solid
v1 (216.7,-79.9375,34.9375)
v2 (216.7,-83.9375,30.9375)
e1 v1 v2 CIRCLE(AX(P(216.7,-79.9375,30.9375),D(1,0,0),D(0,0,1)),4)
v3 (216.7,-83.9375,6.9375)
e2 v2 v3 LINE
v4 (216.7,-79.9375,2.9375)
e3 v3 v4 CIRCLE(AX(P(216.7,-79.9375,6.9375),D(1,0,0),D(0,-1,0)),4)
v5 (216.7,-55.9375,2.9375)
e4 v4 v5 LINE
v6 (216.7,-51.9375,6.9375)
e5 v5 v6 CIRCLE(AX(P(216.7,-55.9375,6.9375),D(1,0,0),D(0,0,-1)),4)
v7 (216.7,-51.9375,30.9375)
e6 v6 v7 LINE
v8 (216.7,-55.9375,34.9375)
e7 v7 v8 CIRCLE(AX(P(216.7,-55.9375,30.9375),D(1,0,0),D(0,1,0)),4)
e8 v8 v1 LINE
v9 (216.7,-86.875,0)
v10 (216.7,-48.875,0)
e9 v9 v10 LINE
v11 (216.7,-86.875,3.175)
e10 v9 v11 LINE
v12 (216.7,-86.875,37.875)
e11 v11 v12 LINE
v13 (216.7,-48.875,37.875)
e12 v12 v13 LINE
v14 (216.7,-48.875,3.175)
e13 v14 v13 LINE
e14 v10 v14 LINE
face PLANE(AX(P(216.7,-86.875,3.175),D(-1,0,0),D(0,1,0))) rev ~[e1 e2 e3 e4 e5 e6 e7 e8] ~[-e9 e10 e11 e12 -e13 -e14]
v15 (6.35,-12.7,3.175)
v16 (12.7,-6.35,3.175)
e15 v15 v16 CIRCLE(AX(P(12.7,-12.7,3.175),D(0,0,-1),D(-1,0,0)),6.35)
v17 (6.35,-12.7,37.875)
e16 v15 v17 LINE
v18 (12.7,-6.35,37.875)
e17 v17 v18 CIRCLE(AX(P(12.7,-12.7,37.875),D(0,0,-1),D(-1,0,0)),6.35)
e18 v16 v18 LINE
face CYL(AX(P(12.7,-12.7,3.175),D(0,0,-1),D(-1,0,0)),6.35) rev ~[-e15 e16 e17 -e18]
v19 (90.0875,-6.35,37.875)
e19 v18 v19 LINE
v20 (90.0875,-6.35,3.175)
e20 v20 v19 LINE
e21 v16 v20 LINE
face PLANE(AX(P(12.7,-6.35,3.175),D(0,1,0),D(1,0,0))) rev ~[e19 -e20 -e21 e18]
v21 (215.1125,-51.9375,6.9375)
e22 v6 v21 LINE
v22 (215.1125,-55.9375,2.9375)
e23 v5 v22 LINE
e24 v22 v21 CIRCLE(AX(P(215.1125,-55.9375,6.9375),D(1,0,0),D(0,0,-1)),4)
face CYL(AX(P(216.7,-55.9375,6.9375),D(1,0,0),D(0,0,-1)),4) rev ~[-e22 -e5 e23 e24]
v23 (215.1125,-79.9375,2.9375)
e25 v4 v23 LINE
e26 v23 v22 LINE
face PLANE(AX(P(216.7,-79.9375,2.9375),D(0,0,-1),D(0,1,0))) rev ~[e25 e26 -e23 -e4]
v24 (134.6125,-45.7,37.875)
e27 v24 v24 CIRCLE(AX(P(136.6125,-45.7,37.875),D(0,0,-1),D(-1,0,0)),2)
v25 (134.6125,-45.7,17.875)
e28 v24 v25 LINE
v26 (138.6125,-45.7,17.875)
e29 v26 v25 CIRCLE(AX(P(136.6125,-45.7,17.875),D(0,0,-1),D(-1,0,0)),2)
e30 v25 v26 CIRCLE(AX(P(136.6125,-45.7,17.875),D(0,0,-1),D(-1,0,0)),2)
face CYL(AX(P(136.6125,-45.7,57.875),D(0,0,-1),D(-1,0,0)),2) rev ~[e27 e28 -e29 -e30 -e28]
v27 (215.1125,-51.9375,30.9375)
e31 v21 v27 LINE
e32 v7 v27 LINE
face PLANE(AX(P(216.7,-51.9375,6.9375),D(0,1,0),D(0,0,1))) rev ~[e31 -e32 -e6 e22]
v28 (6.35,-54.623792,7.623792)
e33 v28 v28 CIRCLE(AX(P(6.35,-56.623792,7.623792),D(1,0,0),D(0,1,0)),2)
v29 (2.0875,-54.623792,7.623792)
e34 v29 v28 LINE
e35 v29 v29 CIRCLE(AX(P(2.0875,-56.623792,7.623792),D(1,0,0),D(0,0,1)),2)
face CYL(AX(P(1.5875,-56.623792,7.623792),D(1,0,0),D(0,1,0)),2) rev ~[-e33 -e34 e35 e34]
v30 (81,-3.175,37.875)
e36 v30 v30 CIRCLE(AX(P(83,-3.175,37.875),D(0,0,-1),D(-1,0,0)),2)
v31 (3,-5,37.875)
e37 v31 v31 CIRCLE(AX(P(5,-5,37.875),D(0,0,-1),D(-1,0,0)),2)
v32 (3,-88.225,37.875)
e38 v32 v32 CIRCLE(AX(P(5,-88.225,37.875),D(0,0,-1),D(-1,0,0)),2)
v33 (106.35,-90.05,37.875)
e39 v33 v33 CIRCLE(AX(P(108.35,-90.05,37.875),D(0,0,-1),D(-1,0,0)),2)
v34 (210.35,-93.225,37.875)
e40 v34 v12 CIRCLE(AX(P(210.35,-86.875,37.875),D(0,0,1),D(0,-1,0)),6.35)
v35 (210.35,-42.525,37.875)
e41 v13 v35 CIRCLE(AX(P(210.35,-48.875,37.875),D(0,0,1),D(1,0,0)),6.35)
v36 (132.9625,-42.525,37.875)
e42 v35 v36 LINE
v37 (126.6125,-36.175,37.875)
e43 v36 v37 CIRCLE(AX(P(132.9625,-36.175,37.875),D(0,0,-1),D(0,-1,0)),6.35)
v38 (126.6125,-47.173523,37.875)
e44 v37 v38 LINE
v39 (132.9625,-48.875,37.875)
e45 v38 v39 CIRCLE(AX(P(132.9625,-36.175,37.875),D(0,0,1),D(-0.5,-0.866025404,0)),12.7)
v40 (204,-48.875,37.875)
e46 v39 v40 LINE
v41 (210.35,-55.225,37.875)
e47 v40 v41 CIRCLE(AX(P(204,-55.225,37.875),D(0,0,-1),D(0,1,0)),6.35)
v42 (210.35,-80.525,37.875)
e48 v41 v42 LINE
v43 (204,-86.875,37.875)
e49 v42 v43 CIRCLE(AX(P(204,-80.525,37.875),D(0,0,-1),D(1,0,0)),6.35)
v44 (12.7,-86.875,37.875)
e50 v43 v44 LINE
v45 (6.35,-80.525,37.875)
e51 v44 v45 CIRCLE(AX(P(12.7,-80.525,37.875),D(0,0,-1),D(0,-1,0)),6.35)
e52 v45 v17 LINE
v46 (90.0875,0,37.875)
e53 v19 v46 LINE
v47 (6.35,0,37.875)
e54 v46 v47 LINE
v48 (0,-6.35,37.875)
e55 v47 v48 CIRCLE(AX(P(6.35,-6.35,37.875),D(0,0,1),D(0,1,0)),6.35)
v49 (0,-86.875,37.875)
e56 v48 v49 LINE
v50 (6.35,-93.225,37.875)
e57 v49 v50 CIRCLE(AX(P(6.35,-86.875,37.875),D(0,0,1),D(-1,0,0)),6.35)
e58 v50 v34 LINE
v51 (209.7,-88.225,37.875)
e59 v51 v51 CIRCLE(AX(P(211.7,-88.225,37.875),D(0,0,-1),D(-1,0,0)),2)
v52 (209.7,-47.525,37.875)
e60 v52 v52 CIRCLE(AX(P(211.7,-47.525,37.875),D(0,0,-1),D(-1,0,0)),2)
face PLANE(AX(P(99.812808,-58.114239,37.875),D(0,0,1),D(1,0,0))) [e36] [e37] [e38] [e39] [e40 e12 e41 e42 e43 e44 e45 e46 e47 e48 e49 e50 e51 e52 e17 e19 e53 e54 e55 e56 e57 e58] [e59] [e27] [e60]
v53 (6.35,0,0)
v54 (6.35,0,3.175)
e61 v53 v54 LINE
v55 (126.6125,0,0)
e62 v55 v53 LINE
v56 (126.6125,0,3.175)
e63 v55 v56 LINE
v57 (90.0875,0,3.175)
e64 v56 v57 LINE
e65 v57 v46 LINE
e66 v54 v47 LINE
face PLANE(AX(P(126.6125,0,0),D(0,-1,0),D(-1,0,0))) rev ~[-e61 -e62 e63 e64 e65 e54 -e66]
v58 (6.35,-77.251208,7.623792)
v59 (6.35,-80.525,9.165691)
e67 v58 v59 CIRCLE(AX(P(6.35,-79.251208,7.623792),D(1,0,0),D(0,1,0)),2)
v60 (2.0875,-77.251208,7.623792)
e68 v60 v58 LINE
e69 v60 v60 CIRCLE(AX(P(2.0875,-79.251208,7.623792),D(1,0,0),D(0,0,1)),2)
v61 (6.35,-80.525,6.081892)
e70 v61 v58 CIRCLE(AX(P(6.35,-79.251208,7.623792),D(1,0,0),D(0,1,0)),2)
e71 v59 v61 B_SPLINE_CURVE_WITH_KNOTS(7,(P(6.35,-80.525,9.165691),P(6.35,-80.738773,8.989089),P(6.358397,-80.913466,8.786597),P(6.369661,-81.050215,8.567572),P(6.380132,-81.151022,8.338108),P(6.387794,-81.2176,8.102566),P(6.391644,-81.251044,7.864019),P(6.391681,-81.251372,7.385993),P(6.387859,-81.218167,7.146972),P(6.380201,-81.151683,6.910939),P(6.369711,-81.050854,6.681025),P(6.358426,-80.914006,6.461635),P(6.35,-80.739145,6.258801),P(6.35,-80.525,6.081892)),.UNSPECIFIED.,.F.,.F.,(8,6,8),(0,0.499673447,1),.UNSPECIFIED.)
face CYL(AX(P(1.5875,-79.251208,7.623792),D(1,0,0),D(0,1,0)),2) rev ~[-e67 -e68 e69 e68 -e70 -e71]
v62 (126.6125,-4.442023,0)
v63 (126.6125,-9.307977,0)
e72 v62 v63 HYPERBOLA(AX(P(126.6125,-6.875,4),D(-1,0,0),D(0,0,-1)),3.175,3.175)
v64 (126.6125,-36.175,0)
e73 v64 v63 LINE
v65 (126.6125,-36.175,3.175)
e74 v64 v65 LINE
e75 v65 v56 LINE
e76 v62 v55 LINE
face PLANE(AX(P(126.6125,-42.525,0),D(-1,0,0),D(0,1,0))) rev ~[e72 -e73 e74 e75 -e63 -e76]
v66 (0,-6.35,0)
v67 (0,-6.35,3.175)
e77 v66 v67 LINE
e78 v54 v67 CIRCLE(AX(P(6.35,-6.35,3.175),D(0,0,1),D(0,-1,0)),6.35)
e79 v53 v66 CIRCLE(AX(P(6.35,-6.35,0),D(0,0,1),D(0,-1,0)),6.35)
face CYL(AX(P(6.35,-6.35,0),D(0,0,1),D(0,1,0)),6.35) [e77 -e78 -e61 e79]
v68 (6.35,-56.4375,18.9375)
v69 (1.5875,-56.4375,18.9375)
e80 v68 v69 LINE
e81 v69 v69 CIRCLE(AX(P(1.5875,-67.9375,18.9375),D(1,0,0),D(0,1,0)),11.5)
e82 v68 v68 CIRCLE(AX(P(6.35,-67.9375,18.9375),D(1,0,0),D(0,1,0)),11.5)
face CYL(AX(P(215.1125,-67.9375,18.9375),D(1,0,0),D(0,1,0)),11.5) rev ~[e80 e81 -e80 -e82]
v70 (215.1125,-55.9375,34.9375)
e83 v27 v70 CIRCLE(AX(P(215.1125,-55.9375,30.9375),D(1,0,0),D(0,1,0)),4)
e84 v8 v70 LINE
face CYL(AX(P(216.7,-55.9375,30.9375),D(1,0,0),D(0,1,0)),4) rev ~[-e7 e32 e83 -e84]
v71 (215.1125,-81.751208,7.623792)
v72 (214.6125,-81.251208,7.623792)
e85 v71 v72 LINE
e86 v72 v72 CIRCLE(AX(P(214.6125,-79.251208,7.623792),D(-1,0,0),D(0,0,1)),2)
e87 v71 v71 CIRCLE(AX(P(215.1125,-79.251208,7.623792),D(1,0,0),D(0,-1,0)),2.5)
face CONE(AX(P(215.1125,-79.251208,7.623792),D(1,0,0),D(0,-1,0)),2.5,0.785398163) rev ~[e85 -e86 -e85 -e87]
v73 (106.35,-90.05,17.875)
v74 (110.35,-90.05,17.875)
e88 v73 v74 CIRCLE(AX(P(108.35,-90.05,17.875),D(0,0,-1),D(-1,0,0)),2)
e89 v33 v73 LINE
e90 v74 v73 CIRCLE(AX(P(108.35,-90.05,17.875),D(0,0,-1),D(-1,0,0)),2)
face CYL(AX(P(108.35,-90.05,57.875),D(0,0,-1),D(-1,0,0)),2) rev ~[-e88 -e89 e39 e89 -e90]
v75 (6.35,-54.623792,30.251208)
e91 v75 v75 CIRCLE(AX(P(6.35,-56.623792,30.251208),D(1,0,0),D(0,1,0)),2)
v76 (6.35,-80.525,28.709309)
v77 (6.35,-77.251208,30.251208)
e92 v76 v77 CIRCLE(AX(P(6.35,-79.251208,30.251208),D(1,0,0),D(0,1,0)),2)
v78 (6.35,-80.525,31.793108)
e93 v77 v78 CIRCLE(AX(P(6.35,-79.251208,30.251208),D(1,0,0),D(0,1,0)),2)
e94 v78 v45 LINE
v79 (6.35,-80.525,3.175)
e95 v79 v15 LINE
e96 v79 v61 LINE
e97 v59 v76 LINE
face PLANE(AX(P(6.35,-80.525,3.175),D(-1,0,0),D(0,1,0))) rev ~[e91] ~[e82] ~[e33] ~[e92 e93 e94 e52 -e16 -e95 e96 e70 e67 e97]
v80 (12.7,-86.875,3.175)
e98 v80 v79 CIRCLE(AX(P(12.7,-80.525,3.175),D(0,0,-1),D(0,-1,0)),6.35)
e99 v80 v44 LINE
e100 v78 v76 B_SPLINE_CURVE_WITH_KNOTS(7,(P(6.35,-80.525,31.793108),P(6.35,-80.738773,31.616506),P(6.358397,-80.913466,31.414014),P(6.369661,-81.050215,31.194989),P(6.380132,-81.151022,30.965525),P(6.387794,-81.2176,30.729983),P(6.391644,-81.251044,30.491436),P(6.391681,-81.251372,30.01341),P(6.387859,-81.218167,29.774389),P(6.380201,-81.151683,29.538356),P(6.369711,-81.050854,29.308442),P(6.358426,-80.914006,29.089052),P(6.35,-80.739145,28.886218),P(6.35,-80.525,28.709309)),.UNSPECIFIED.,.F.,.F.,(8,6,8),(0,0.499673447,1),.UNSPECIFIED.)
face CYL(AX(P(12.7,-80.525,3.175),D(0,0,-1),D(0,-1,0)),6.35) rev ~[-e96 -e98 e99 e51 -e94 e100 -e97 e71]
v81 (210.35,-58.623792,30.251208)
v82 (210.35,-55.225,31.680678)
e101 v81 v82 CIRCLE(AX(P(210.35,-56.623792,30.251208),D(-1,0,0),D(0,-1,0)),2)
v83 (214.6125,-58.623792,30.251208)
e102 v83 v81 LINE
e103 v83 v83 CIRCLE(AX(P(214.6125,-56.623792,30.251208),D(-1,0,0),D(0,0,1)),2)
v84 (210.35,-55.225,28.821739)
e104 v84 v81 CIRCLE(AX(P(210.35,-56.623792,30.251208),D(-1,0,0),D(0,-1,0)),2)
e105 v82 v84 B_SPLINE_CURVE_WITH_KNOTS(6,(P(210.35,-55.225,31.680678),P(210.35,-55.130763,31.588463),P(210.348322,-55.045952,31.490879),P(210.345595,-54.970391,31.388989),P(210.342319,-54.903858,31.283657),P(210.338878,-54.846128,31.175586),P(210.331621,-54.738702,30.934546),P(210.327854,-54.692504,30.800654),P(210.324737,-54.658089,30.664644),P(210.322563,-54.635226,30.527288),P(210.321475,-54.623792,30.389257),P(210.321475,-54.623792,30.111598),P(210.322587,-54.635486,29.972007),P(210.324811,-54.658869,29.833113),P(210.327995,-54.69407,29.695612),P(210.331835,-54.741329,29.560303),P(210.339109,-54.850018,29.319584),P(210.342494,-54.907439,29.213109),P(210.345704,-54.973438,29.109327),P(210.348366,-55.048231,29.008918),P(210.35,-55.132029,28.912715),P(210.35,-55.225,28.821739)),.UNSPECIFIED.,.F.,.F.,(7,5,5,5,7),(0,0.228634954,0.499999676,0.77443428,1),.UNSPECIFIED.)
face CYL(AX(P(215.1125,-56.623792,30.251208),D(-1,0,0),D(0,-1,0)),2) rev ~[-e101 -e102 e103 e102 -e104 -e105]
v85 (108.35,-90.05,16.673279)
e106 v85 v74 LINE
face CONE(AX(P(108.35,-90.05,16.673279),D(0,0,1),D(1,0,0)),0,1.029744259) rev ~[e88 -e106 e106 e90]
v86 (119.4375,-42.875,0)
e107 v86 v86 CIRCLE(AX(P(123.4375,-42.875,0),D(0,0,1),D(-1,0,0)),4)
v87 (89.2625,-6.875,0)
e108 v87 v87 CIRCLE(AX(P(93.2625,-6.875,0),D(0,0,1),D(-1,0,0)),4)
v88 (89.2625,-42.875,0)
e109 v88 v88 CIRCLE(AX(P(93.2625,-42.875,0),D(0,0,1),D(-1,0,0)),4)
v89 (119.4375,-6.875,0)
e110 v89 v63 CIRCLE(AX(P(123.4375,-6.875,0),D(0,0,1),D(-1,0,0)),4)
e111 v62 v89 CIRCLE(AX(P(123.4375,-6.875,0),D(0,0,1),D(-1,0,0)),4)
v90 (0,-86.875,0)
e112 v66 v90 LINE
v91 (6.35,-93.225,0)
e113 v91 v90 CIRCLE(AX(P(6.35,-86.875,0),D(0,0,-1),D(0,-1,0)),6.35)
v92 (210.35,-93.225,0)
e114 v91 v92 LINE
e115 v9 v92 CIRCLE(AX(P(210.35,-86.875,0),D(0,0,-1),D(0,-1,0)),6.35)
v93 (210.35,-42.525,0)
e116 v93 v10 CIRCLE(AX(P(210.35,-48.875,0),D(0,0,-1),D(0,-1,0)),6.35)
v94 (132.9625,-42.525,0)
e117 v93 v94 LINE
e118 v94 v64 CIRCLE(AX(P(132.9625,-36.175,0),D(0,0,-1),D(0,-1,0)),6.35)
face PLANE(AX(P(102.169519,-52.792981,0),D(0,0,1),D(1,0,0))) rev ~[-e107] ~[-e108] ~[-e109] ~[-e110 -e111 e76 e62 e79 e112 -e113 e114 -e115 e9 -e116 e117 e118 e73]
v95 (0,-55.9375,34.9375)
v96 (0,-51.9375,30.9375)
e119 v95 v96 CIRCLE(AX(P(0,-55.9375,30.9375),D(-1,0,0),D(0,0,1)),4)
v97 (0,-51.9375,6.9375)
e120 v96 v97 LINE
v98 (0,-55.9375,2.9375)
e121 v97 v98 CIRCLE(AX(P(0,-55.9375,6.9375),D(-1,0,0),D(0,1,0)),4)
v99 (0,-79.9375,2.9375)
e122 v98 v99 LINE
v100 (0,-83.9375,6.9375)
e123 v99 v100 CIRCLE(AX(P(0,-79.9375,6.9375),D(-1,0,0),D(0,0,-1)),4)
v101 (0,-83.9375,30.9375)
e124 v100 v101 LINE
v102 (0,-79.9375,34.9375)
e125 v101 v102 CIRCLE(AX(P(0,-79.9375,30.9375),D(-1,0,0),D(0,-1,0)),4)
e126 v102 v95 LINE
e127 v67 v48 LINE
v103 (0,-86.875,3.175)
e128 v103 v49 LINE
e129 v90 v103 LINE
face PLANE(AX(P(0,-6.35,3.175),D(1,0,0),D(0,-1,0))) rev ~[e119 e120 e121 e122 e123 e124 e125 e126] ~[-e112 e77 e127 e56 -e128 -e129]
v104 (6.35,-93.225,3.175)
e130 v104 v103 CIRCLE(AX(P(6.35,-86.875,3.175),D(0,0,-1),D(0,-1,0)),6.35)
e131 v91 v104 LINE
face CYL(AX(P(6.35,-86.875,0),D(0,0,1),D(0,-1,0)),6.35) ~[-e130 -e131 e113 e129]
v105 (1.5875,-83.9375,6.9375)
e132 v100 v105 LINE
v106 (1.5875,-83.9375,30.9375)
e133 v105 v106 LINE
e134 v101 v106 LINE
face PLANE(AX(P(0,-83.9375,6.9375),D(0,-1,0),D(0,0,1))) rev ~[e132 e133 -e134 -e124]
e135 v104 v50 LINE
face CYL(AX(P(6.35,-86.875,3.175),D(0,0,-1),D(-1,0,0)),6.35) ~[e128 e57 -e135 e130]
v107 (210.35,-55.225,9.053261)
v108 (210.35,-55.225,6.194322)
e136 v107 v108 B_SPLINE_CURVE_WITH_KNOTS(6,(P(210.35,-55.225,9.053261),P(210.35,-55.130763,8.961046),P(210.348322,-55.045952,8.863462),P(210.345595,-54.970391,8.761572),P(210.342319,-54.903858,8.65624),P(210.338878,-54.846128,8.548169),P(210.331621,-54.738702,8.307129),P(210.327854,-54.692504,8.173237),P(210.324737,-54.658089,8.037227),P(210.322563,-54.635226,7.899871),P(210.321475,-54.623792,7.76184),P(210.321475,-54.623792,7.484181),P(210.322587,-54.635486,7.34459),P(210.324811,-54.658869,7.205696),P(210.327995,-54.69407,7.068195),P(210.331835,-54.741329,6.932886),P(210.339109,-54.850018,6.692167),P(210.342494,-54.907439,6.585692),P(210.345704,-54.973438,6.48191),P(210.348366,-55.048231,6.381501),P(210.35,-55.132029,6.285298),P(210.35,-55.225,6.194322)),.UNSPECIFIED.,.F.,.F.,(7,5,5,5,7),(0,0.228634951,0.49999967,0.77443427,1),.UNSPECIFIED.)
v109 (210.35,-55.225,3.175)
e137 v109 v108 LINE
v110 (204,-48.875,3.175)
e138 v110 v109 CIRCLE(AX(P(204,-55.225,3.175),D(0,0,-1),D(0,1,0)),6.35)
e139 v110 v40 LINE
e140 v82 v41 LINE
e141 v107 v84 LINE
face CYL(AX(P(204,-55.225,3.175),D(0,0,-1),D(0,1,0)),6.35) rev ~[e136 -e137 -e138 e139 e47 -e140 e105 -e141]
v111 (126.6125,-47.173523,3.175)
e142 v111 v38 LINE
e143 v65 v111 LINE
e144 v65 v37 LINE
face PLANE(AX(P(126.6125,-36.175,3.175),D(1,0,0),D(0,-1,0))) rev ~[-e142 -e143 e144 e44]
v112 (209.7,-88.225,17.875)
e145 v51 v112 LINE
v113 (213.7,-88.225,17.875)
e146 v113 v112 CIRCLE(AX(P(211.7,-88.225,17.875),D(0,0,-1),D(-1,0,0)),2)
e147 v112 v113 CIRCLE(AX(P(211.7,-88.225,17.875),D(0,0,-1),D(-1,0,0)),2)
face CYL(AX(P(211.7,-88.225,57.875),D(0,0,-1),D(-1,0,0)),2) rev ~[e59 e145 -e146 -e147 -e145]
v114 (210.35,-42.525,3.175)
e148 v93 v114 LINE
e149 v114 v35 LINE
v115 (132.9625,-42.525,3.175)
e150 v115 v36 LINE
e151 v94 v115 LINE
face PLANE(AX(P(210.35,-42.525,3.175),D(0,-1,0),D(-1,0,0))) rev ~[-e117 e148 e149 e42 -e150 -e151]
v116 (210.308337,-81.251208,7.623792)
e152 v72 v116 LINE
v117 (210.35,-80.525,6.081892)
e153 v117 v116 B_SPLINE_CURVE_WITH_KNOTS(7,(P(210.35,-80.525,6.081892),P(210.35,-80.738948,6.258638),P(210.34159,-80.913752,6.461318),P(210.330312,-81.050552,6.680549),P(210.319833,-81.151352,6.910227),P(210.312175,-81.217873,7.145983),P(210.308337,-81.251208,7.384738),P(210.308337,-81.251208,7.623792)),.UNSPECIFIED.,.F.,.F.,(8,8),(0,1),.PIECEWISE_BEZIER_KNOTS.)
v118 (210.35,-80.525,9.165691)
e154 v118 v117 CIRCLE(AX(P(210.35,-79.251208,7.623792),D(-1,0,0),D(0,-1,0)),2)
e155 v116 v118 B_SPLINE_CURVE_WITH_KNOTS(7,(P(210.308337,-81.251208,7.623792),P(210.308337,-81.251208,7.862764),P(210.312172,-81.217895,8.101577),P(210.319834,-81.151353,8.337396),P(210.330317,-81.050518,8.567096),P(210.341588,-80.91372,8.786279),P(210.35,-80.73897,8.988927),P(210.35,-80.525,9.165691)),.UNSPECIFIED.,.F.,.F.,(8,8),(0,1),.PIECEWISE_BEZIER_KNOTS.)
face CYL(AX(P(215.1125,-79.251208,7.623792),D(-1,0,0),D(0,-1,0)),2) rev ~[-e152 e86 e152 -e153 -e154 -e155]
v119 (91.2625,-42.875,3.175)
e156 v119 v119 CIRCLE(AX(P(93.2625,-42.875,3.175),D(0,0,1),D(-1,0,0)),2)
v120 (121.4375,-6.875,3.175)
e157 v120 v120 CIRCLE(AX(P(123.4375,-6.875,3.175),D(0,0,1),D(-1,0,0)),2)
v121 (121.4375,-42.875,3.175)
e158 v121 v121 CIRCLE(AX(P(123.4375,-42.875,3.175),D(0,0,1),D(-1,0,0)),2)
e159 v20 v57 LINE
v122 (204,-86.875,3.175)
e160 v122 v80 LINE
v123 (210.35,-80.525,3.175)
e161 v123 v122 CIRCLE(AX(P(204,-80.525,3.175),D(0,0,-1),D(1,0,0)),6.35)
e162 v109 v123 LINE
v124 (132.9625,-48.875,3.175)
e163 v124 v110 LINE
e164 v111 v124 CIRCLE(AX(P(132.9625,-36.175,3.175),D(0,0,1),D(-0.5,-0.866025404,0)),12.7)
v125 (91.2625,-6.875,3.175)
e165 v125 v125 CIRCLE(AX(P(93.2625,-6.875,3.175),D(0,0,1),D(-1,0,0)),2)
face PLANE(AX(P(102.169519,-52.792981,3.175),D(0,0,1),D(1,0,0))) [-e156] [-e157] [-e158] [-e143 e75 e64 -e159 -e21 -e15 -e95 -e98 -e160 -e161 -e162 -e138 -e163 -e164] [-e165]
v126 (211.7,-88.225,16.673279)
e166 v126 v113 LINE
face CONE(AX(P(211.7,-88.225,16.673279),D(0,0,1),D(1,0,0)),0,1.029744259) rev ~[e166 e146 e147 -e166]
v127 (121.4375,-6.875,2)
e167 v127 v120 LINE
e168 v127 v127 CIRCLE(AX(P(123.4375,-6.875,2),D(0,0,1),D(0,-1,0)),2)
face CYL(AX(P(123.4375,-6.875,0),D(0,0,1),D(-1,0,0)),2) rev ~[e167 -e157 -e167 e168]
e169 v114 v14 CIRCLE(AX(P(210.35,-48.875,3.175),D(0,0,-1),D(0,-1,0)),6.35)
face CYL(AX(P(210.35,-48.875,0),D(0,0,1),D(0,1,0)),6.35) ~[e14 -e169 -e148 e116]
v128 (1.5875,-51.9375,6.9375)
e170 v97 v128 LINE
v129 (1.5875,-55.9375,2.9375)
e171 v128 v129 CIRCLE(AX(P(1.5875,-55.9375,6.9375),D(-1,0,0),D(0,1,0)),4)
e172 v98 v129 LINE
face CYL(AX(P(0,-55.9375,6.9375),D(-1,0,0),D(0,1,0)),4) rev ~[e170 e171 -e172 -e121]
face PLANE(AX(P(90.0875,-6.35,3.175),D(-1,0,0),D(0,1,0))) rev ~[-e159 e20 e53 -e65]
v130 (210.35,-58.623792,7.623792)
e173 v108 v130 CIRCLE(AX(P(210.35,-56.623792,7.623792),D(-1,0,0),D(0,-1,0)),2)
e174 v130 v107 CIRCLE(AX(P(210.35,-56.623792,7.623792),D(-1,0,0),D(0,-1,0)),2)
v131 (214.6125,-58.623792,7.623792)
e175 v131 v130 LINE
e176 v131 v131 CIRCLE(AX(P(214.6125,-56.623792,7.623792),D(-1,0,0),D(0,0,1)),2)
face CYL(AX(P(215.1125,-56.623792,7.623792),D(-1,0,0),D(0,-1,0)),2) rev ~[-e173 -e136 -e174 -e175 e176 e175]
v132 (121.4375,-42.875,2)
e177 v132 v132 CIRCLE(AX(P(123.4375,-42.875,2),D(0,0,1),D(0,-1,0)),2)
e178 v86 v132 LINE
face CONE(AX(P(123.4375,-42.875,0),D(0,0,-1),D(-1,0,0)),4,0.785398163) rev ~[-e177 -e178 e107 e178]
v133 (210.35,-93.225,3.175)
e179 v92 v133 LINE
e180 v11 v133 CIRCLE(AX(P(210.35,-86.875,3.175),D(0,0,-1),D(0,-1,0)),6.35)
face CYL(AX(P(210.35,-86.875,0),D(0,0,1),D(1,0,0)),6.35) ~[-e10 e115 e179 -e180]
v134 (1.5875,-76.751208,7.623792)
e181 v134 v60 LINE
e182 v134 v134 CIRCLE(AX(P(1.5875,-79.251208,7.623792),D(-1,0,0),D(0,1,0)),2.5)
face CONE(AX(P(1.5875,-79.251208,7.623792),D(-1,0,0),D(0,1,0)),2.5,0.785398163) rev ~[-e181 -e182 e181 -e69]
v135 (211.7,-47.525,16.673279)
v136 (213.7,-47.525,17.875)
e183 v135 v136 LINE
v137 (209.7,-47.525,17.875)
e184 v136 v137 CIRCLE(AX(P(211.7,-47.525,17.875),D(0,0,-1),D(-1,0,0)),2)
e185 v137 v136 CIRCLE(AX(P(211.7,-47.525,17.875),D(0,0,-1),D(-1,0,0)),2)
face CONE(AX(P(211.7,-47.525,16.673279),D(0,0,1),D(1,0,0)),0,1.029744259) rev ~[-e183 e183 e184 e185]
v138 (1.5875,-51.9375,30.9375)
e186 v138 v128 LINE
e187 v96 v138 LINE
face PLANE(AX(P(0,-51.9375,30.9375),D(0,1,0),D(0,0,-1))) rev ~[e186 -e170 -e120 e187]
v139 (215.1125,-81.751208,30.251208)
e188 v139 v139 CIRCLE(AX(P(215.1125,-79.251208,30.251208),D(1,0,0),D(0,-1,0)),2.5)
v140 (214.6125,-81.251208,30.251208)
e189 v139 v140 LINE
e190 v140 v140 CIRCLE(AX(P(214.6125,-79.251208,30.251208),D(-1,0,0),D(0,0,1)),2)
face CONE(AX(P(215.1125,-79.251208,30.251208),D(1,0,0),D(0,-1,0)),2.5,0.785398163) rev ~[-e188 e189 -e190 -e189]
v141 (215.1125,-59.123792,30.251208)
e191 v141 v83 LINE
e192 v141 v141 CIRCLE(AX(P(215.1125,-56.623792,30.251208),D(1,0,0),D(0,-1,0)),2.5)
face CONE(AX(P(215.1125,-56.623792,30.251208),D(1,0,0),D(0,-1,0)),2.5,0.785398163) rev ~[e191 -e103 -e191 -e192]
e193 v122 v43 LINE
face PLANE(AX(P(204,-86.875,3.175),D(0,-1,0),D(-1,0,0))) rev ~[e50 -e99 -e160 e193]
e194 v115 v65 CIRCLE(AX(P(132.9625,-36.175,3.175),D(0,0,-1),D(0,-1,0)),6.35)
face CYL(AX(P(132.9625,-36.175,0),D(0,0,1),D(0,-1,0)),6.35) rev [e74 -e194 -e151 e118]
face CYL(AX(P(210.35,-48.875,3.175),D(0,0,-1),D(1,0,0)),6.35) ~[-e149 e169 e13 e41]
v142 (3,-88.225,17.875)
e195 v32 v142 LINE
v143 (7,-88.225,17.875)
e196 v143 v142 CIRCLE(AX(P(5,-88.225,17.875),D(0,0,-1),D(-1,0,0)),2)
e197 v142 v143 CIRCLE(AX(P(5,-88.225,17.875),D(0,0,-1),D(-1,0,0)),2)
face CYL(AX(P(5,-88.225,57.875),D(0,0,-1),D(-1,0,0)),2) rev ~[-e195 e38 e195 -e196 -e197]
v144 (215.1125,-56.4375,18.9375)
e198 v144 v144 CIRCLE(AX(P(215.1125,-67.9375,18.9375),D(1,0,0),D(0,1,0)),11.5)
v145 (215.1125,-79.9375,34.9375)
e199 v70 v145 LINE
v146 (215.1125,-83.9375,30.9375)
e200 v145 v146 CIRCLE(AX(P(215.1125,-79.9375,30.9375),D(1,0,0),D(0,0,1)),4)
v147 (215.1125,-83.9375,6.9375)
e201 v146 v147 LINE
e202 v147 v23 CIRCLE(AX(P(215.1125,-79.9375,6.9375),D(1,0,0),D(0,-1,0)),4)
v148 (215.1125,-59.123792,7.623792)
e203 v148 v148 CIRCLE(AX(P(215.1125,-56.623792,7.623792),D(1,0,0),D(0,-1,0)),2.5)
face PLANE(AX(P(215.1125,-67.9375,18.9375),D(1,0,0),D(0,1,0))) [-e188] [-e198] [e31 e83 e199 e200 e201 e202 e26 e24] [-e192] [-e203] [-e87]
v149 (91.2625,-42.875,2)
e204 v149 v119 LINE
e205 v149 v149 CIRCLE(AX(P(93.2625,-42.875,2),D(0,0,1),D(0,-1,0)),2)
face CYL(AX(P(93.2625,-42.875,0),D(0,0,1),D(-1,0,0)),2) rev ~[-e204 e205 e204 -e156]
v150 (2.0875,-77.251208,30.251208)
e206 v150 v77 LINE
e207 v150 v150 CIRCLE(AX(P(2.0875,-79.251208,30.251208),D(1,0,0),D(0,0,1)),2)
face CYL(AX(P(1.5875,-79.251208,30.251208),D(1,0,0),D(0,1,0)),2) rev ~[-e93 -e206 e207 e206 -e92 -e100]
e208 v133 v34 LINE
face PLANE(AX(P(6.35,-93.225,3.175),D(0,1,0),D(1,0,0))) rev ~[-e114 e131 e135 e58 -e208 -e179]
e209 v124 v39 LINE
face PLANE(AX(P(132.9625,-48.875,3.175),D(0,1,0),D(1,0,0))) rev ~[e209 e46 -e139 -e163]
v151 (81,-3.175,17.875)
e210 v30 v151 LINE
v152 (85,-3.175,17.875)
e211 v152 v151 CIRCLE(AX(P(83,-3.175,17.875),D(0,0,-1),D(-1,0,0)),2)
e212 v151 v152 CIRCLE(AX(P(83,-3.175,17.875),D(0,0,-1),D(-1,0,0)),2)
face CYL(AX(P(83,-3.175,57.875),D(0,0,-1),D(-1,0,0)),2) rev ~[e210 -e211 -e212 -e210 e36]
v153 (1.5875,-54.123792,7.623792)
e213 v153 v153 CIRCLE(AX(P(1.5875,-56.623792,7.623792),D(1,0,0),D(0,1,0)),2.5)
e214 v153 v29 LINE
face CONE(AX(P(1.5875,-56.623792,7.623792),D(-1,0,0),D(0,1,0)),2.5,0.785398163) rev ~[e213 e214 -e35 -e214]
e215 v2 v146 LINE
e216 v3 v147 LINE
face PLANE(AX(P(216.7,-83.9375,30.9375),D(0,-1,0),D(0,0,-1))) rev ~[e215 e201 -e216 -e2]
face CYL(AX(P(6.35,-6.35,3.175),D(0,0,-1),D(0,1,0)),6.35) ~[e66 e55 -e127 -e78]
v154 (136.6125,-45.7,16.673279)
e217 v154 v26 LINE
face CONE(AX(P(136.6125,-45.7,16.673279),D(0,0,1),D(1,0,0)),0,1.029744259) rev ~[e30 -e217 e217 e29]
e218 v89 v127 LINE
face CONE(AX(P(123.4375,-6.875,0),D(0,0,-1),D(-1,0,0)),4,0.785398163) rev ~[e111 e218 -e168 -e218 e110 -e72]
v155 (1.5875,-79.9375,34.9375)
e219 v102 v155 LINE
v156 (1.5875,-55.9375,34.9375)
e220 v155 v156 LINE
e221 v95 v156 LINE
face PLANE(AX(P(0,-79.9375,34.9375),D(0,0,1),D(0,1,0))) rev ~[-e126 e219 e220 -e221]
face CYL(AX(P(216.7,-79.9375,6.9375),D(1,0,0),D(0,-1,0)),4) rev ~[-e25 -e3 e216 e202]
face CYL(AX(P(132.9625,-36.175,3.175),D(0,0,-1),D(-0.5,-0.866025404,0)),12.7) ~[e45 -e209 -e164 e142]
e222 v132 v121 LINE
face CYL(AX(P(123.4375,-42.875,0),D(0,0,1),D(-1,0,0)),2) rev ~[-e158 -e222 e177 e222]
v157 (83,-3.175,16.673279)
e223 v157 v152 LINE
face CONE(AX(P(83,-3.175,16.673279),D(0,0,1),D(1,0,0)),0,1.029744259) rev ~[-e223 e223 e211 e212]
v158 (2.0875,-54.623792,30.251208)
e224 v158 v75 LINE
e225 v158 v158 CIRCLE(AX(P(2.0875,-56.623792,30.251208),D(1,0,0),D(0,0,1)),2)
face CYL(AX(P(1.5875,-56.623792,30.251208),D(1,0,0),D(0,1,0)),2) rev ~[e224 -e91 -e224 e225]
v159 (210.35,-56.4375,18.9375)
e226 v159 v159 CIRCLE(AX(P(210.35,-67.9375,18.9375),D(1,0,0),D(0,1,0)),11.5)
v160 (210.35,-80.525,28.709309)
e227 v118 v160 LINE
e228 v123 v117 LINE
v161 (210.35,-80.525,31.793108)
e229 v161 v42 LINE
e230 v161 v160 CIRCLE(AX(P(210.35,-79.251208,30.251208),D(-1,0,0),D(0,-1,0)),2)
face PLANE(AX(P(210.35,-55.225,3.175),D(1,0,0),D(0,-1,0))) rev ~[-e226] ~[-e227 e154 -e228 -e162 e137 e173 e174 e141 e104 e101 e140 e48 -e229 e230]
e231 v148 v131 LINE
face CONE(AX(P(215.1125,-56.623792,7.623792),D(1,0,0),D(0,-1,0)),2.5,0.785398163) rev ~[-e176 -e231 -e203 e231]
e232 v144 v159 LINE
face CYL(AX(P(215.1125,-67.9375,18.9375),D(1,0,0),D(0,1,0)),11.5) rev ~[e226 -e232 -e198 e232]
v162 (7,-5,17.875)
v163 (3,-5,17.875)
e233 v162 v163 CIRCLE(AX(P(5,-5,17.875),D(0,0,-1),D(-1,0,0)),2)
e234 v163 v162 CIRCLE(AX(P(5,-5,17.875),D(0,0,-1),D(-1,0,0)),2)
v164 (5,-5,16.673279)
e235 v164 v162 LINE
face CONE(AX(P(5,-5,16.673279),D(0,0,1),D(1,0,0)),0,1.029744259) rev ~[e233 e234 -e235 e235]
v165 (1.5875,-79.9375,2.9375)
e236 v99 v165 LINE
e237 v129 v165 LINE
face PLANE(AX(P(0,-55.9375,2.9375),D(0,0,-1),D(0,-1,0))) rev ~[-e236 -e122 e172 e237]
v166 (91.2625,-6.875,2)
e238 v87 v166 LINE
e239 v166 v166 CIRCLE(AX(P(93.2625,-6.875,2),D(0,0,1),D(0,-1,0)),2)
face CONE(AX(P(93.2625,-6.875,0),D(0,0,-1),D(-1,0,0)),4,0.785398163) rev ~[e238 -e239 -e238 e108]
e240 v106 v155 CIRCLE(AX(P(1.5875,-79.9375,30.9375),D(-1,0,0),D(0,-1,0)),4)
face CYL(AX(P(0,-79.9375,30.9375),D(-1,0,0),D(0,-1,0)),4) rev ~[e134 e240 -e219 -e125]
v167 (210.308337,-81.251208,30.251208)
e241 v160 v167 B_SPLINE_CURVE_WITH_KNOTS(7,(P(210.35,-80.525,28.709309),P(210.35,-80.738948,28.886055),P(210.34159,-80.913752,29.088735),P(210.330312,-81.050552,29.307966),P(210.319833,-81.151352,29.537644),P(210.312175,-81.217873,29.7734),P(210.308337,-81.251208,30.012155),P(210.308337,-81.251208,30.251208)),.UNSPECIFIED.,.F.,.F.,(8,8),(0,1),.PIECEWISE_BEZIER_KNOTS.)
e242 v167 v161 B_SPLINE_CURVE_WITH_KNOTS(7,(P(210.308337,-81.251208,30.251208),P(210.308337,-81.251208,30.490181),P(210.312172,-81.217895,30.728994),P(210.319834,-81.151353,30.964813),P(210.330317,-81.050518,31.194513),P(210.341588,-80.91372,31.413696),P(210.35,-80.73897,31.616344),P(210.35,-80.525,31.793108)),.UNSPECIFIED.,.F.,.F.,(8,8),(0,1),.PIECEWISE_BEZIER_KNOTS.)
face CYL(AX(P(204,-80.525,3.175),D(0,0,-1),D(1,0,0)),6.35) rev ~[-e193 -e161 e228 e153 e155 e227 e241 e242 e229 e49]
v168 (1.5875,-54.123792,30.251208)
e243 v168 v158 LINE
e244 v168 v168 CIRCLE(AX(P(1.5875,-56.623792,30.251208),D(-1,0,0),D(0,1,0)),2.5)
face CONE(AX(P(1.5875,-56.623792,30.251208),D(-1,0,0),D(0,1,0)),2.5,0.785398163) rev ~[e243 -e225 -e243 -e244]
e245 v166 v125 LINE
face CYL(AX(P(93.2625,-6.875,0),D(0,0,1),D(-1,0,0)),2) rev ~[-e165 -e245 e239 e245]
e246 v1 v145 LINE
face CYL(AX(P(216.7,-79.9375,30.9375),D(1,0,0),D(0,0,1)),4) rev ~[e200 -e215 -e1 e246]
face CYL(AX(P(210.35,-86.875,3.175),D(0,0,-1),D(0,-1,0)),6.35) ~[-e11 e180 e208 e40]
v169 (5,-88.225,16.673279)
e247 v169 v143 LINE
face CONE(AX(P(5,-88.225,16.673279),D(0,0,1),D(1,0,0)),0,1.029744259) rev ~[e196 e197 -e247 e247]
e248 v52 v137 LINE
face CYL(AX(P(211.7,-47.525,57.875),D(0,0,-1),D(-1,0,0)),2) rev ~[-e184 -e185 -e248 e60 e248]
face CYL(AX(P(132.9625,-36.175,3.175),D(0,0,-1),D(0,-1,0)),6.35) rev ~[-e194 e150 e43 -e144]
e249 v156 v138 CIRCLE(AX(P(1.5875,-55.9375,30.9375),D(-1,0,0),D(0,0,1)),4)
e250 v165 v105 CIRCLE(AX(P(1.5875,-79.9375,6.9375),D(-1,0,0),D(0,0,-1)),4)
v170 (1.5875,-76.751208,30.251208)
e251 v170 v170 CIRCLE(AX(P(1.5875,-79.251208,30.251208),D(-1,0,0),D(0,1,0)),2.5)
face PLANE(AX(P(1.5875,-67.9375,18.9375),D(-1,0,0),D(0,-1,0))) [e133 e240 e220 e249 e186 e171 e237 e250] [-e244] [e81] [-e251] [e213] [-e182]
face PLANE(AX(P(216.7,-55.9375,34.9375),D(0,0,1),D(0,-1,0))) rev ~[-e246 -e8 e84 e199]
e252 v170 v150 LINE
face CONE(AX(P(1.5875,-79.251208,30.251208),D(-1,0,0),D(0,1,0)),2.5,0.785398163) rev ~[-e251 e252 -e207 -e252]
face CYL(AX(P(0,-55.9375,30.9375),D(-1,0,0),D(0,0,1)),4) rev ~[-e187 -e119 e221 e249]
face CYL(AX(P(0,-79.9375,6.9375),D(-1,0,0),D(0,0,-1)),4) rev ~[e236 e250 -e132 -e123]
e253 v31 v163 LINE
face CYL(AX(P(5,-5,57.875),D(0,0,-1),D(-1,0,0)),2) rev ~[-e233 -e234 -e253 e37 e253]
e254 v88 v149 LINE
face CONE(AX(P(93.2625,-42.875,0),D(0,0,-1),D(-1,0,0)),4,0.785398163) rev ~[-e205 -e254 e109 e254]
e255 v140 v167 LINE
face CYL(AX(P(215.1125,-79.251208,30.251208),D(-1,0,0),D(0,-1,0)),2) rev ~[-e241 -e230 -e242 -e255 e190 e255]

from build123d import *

# Parameters (mm, degrees)
F1_DEPTH        = 3.175
F2_R            = 6.35
F3_R            = 6.35
F5_DEPTH        = 34.7
F7_DEPTH        = 1.5875
F8_R            = 11.5
F9_DEPTH        = 215.1135
F11_D           = 4
F11_DEPTH       = 20
F11_START       = 1.5875
F11_CSINK_D     = 5
F11_CSINK_ANGLE = 90
F11_TIP         = 1.2017212381
F13_DEPTH       = 1.5875
F15_D           = 4
F15_DEPTH       = 20
F15_START       = 1.5875
F15_CSINK_D     = 5
F15_CSINK_ANGLE = 90
F15_TIP         = 1.2017212381
F17_D           = 4
F17_DEPTH       = 20
F17_TIP         = 1.2017212381
F20_D           = 4
F20_CSINK_D     = 8
F20_CSINK_ANGLE = 90


with BuildPart() as f1:
    # F0 (on Top) → F1 (new body)
    with BuildSketch(Plane.XY):
        Polygon((90.0875, 0), (0, 0), (0, -93.225), (216.7, -93.225), (216.7, -42.525), (126.6125, -42.525), (126.6125, 0), align=None)
    extrude(amount=F1_DEPTH)

    # F2
    f2_edges = [f1.edges().sort_by_distance(p)[0] for p in [
        (126.6125, -42.525, 1.5875),
    ]]
    fillet(f2_edges, radius=F2_R)

    # F3
    f3_edges = [f1.edges().sort_by_distance(p)[0] for p in [
        (216.7, -42.525, 1.5875),
        (216.7, -93.225, 1.5875),
        (0, -93.225, 1.5875),
        (0, 0, 1.5875),
    ]]
    fillet(f3_edges, radius=F3_R)

    # F4 (on face) → F5 (join)
    with BuildSketch(Plane.XY.offset(3.175)):
        with BuildLine():
            ThreePointArc((126.6125, -47.1735226281), (129.6754981272, -48.4422579939), (132.9625, -48.875))
            Line((132.9625, -48.875), (204, -48.875))
            ThreePointArc((204, -48.875), (208.4901280605, -50.7348719395), (210.35, -55.225))
            Line((210.35, -55.225), (210.35, -80.525))
            ThreePointArc((210.35, -80.525), (208.4901280605, -85.0151280605), (204, -86.875))
            Line((204, -86.875), (12.7, -86.875))
            ThreePointArc((12.7, -86.875), (8.2098719395, -85.0151280605), (6.35, -80.525))
            Line((6.35, -80.525), (6.35, -12.7))
            ThreePointArc((6.35, -12.7), (8.2098719395, -8.2098719395), (12.7, -6.35))
            Line((12.7, -6.35), (90.0875, -6.35))
            Line((90.0875, -6.35), (90.0875, 0))
            Line((90.0875, 0), (6.35, 0))
            ThreePointArc((6.35, 0), (1.8598719395, -1.8598719395), (0, -6.35))
            Line((0, -6.35), (0, -86.875))
            ThreePointArc((0, -86.875), (1.8598719395, -91.3651280605), (6.35, -93.225))
            Line((6.35, -93.225), (210.35, -93.225))
            ThreePointArc((210.35, -93.225), (214.8401280605, -91.3651280605), (216.7, -86.875))
            Line((216.7, -86.875), (216.7, -48.875))
            ThreePointArc((216.7, -48.875), (214.8401280605, -44.3848719395), (210.35, -42.525))
            Line((210.35, -42.525), (132.9625, -42.525))
            ThreePointArc((132.9625, -42.525), (128.4723719395, -40.6651280605), (126.6125, -36.175))
            Line((126.6125, -36.175), (126.6125, -47.1735226281))
        make_face()
    extrude(amount=F5_DEPTH)

    # F6 (on face) → F7 (cut)
    with BuildSketch(Plane.YZ.offset(216.7)):
        with BuildLine():
            ThreePointArc((-51.9375, 30.9375), (-53.1090728753, 33.7659271247), (-55.9375, 34.9375))
            Line((-55.9375, 34.9375), (-79.9375, 34.9375))
            ThreePointArc((-79.9375, 34.9375), (-82.7659271247, 33.7659271247), (-83.9375, 30.9375))
            Line((-83.9375, 30.9375), (-83.9375, 6.9375))
            ThreePointArc((-83.9375, 6.9375), (-82.7659271247, 4.1090728753), (-79.9375, 2.9375))
            Line((-79.9375, 2.9375), (-55.9375, 2.9375))
            ThreePointArc((-55.9375, 2.9375), (-53.1090728753, 4.1090728753), (-51.9375, 6.9375))
            Line((-51.9375, 6.9375), (-51.9375, 30.9375))
        make_face()
    extrude(amount=-F7_DEPTH, mode=Mode.SUBTRACT)

    # F8 (on face) → F9 (cut, through all)
    with BuildSketch(Plane.YZ.offset(215.1125)):
        with Locations((-67.9375, 18.9375)):
            Circle(F8_R)
    extrude(amount=-F9_DEPTH, mode=Mode.SUBTRACT)

    # F11
    # its depths count from where the whole tool has entered the part; down to there all is cleared
    with Locations(Plane.YZ.offset(216.7).offset(-F11_START)):
        with Locations((-79.251208499, 30.251208499), (-56.623791501, 30.251208499), (-56.623791501, 7.623791501), (-79.251208499, 7.623791501)):
            CounterSinkHole(F11_D / 2, F11_CSINK_D / 2, depth=F11_DEPTH, counter_sink_angle=F11_CSINK_ANGLE)
            with Locations((0, 0, -(F11_DEPTH + F11_TIP / 2))):  # 118° drill point
                Cone(0, F11_D / 2, F11_TIP, mode=Mode.SUBTRACT)

    # F12 (on face) → F13 (cut)
    with BuildSketch(Plane(origin=(0, 0, 0), x_dir=(0, -1, 0), z_dir=(-1, 0, 0))):
        with BuildLine():
            Line((79.9375, 34.9375), (55.9375, 34.9375))
            ThreePointArc((55.9375, 34.9375), (53.1090728753, 33.7659271247), (51.9375, 30.9375))
            Line((51.9375, 30.9375), (51.9375, 6.9375))
            ThreePointArc((51.9375, 6.9375), (53.1090728753, 4.1090728753), (55.9375, 2.9375))
            Line((55.9375, 2.9375), (79.9375, 2.9375))
            ThreePointArc((79.9375, 2.9375), (82.7659271247, 4.1090728753), (83.9375, 6.9375))
            Line((83.9375, 6.9375), (83.9375, 30.9375))
            ThreePointArc((83.9375, 30.9375), (82.7659271247, 33.7659271247), (79.9375, 34.9375))
        make_face()
    extrude(amount=-F13_DEPTH, mode=Mode.SUBTRACT)

    # F15
    # its depths count from where the whole tool has entered the part; down to there all is cleared
    with Locations(Plane(origin=(0, 0, 0), x_dir=(0, -1, 0), z_dir=(-1, 0, 0)).offset(-F15_START)):
        with Locations((56.623791501, 30.251208499), (56.623791501, 7.623791501), (79.251208499, 7.623791501), (79.251208499, 30.251208499)):
            CounterSinkHole(F15_D / 2, F15_CSINK_D / 2, depth=F15_DEPTH, counter_sink_angle=F15_CSINK_ANGLE)
            with Locations((0, 0, -(F15_DEPTH + F15_TIP / 2))):  # 118° drill point
                Cone(0, F15_D / 2, F15_TIP, mode=Mode.SUBTRACT)

    # F17
    with Locations(Plane.XY.offset(37.875)):
        with Locations((5, -5), (5, -88.225), (211.7, -88.225), (211.7, -47.525), (136.6125, -45.7), (83, -3.175), (108.35, -90.05)):
            Hole(F17_D / 2, depth=F17_DEPTH)
            with Locations((0, 0, -(F17_DEPTH + F17_TIP / 2))):  # 118° drill point
                Cone(0, F17_D / 2, F17_TIP, mode=Mode.SUBTRACT)

    # F20 (through all)
    with Locations(Plane(origin=(0, 0, 0), x_dir=(1, 0, 0), z_dir=(0, 0, -1))):
        with Locations((123.4375, 6.875), (123.4375, 42.875), (93.2625, 42.875), (93.2625, 6.875)):
            CounterSinkHole(F20_D / 2, F20_CSINK_D / 2, counter_sink_angle=F20_CSINK_ANGLE)


solid = f1.part
